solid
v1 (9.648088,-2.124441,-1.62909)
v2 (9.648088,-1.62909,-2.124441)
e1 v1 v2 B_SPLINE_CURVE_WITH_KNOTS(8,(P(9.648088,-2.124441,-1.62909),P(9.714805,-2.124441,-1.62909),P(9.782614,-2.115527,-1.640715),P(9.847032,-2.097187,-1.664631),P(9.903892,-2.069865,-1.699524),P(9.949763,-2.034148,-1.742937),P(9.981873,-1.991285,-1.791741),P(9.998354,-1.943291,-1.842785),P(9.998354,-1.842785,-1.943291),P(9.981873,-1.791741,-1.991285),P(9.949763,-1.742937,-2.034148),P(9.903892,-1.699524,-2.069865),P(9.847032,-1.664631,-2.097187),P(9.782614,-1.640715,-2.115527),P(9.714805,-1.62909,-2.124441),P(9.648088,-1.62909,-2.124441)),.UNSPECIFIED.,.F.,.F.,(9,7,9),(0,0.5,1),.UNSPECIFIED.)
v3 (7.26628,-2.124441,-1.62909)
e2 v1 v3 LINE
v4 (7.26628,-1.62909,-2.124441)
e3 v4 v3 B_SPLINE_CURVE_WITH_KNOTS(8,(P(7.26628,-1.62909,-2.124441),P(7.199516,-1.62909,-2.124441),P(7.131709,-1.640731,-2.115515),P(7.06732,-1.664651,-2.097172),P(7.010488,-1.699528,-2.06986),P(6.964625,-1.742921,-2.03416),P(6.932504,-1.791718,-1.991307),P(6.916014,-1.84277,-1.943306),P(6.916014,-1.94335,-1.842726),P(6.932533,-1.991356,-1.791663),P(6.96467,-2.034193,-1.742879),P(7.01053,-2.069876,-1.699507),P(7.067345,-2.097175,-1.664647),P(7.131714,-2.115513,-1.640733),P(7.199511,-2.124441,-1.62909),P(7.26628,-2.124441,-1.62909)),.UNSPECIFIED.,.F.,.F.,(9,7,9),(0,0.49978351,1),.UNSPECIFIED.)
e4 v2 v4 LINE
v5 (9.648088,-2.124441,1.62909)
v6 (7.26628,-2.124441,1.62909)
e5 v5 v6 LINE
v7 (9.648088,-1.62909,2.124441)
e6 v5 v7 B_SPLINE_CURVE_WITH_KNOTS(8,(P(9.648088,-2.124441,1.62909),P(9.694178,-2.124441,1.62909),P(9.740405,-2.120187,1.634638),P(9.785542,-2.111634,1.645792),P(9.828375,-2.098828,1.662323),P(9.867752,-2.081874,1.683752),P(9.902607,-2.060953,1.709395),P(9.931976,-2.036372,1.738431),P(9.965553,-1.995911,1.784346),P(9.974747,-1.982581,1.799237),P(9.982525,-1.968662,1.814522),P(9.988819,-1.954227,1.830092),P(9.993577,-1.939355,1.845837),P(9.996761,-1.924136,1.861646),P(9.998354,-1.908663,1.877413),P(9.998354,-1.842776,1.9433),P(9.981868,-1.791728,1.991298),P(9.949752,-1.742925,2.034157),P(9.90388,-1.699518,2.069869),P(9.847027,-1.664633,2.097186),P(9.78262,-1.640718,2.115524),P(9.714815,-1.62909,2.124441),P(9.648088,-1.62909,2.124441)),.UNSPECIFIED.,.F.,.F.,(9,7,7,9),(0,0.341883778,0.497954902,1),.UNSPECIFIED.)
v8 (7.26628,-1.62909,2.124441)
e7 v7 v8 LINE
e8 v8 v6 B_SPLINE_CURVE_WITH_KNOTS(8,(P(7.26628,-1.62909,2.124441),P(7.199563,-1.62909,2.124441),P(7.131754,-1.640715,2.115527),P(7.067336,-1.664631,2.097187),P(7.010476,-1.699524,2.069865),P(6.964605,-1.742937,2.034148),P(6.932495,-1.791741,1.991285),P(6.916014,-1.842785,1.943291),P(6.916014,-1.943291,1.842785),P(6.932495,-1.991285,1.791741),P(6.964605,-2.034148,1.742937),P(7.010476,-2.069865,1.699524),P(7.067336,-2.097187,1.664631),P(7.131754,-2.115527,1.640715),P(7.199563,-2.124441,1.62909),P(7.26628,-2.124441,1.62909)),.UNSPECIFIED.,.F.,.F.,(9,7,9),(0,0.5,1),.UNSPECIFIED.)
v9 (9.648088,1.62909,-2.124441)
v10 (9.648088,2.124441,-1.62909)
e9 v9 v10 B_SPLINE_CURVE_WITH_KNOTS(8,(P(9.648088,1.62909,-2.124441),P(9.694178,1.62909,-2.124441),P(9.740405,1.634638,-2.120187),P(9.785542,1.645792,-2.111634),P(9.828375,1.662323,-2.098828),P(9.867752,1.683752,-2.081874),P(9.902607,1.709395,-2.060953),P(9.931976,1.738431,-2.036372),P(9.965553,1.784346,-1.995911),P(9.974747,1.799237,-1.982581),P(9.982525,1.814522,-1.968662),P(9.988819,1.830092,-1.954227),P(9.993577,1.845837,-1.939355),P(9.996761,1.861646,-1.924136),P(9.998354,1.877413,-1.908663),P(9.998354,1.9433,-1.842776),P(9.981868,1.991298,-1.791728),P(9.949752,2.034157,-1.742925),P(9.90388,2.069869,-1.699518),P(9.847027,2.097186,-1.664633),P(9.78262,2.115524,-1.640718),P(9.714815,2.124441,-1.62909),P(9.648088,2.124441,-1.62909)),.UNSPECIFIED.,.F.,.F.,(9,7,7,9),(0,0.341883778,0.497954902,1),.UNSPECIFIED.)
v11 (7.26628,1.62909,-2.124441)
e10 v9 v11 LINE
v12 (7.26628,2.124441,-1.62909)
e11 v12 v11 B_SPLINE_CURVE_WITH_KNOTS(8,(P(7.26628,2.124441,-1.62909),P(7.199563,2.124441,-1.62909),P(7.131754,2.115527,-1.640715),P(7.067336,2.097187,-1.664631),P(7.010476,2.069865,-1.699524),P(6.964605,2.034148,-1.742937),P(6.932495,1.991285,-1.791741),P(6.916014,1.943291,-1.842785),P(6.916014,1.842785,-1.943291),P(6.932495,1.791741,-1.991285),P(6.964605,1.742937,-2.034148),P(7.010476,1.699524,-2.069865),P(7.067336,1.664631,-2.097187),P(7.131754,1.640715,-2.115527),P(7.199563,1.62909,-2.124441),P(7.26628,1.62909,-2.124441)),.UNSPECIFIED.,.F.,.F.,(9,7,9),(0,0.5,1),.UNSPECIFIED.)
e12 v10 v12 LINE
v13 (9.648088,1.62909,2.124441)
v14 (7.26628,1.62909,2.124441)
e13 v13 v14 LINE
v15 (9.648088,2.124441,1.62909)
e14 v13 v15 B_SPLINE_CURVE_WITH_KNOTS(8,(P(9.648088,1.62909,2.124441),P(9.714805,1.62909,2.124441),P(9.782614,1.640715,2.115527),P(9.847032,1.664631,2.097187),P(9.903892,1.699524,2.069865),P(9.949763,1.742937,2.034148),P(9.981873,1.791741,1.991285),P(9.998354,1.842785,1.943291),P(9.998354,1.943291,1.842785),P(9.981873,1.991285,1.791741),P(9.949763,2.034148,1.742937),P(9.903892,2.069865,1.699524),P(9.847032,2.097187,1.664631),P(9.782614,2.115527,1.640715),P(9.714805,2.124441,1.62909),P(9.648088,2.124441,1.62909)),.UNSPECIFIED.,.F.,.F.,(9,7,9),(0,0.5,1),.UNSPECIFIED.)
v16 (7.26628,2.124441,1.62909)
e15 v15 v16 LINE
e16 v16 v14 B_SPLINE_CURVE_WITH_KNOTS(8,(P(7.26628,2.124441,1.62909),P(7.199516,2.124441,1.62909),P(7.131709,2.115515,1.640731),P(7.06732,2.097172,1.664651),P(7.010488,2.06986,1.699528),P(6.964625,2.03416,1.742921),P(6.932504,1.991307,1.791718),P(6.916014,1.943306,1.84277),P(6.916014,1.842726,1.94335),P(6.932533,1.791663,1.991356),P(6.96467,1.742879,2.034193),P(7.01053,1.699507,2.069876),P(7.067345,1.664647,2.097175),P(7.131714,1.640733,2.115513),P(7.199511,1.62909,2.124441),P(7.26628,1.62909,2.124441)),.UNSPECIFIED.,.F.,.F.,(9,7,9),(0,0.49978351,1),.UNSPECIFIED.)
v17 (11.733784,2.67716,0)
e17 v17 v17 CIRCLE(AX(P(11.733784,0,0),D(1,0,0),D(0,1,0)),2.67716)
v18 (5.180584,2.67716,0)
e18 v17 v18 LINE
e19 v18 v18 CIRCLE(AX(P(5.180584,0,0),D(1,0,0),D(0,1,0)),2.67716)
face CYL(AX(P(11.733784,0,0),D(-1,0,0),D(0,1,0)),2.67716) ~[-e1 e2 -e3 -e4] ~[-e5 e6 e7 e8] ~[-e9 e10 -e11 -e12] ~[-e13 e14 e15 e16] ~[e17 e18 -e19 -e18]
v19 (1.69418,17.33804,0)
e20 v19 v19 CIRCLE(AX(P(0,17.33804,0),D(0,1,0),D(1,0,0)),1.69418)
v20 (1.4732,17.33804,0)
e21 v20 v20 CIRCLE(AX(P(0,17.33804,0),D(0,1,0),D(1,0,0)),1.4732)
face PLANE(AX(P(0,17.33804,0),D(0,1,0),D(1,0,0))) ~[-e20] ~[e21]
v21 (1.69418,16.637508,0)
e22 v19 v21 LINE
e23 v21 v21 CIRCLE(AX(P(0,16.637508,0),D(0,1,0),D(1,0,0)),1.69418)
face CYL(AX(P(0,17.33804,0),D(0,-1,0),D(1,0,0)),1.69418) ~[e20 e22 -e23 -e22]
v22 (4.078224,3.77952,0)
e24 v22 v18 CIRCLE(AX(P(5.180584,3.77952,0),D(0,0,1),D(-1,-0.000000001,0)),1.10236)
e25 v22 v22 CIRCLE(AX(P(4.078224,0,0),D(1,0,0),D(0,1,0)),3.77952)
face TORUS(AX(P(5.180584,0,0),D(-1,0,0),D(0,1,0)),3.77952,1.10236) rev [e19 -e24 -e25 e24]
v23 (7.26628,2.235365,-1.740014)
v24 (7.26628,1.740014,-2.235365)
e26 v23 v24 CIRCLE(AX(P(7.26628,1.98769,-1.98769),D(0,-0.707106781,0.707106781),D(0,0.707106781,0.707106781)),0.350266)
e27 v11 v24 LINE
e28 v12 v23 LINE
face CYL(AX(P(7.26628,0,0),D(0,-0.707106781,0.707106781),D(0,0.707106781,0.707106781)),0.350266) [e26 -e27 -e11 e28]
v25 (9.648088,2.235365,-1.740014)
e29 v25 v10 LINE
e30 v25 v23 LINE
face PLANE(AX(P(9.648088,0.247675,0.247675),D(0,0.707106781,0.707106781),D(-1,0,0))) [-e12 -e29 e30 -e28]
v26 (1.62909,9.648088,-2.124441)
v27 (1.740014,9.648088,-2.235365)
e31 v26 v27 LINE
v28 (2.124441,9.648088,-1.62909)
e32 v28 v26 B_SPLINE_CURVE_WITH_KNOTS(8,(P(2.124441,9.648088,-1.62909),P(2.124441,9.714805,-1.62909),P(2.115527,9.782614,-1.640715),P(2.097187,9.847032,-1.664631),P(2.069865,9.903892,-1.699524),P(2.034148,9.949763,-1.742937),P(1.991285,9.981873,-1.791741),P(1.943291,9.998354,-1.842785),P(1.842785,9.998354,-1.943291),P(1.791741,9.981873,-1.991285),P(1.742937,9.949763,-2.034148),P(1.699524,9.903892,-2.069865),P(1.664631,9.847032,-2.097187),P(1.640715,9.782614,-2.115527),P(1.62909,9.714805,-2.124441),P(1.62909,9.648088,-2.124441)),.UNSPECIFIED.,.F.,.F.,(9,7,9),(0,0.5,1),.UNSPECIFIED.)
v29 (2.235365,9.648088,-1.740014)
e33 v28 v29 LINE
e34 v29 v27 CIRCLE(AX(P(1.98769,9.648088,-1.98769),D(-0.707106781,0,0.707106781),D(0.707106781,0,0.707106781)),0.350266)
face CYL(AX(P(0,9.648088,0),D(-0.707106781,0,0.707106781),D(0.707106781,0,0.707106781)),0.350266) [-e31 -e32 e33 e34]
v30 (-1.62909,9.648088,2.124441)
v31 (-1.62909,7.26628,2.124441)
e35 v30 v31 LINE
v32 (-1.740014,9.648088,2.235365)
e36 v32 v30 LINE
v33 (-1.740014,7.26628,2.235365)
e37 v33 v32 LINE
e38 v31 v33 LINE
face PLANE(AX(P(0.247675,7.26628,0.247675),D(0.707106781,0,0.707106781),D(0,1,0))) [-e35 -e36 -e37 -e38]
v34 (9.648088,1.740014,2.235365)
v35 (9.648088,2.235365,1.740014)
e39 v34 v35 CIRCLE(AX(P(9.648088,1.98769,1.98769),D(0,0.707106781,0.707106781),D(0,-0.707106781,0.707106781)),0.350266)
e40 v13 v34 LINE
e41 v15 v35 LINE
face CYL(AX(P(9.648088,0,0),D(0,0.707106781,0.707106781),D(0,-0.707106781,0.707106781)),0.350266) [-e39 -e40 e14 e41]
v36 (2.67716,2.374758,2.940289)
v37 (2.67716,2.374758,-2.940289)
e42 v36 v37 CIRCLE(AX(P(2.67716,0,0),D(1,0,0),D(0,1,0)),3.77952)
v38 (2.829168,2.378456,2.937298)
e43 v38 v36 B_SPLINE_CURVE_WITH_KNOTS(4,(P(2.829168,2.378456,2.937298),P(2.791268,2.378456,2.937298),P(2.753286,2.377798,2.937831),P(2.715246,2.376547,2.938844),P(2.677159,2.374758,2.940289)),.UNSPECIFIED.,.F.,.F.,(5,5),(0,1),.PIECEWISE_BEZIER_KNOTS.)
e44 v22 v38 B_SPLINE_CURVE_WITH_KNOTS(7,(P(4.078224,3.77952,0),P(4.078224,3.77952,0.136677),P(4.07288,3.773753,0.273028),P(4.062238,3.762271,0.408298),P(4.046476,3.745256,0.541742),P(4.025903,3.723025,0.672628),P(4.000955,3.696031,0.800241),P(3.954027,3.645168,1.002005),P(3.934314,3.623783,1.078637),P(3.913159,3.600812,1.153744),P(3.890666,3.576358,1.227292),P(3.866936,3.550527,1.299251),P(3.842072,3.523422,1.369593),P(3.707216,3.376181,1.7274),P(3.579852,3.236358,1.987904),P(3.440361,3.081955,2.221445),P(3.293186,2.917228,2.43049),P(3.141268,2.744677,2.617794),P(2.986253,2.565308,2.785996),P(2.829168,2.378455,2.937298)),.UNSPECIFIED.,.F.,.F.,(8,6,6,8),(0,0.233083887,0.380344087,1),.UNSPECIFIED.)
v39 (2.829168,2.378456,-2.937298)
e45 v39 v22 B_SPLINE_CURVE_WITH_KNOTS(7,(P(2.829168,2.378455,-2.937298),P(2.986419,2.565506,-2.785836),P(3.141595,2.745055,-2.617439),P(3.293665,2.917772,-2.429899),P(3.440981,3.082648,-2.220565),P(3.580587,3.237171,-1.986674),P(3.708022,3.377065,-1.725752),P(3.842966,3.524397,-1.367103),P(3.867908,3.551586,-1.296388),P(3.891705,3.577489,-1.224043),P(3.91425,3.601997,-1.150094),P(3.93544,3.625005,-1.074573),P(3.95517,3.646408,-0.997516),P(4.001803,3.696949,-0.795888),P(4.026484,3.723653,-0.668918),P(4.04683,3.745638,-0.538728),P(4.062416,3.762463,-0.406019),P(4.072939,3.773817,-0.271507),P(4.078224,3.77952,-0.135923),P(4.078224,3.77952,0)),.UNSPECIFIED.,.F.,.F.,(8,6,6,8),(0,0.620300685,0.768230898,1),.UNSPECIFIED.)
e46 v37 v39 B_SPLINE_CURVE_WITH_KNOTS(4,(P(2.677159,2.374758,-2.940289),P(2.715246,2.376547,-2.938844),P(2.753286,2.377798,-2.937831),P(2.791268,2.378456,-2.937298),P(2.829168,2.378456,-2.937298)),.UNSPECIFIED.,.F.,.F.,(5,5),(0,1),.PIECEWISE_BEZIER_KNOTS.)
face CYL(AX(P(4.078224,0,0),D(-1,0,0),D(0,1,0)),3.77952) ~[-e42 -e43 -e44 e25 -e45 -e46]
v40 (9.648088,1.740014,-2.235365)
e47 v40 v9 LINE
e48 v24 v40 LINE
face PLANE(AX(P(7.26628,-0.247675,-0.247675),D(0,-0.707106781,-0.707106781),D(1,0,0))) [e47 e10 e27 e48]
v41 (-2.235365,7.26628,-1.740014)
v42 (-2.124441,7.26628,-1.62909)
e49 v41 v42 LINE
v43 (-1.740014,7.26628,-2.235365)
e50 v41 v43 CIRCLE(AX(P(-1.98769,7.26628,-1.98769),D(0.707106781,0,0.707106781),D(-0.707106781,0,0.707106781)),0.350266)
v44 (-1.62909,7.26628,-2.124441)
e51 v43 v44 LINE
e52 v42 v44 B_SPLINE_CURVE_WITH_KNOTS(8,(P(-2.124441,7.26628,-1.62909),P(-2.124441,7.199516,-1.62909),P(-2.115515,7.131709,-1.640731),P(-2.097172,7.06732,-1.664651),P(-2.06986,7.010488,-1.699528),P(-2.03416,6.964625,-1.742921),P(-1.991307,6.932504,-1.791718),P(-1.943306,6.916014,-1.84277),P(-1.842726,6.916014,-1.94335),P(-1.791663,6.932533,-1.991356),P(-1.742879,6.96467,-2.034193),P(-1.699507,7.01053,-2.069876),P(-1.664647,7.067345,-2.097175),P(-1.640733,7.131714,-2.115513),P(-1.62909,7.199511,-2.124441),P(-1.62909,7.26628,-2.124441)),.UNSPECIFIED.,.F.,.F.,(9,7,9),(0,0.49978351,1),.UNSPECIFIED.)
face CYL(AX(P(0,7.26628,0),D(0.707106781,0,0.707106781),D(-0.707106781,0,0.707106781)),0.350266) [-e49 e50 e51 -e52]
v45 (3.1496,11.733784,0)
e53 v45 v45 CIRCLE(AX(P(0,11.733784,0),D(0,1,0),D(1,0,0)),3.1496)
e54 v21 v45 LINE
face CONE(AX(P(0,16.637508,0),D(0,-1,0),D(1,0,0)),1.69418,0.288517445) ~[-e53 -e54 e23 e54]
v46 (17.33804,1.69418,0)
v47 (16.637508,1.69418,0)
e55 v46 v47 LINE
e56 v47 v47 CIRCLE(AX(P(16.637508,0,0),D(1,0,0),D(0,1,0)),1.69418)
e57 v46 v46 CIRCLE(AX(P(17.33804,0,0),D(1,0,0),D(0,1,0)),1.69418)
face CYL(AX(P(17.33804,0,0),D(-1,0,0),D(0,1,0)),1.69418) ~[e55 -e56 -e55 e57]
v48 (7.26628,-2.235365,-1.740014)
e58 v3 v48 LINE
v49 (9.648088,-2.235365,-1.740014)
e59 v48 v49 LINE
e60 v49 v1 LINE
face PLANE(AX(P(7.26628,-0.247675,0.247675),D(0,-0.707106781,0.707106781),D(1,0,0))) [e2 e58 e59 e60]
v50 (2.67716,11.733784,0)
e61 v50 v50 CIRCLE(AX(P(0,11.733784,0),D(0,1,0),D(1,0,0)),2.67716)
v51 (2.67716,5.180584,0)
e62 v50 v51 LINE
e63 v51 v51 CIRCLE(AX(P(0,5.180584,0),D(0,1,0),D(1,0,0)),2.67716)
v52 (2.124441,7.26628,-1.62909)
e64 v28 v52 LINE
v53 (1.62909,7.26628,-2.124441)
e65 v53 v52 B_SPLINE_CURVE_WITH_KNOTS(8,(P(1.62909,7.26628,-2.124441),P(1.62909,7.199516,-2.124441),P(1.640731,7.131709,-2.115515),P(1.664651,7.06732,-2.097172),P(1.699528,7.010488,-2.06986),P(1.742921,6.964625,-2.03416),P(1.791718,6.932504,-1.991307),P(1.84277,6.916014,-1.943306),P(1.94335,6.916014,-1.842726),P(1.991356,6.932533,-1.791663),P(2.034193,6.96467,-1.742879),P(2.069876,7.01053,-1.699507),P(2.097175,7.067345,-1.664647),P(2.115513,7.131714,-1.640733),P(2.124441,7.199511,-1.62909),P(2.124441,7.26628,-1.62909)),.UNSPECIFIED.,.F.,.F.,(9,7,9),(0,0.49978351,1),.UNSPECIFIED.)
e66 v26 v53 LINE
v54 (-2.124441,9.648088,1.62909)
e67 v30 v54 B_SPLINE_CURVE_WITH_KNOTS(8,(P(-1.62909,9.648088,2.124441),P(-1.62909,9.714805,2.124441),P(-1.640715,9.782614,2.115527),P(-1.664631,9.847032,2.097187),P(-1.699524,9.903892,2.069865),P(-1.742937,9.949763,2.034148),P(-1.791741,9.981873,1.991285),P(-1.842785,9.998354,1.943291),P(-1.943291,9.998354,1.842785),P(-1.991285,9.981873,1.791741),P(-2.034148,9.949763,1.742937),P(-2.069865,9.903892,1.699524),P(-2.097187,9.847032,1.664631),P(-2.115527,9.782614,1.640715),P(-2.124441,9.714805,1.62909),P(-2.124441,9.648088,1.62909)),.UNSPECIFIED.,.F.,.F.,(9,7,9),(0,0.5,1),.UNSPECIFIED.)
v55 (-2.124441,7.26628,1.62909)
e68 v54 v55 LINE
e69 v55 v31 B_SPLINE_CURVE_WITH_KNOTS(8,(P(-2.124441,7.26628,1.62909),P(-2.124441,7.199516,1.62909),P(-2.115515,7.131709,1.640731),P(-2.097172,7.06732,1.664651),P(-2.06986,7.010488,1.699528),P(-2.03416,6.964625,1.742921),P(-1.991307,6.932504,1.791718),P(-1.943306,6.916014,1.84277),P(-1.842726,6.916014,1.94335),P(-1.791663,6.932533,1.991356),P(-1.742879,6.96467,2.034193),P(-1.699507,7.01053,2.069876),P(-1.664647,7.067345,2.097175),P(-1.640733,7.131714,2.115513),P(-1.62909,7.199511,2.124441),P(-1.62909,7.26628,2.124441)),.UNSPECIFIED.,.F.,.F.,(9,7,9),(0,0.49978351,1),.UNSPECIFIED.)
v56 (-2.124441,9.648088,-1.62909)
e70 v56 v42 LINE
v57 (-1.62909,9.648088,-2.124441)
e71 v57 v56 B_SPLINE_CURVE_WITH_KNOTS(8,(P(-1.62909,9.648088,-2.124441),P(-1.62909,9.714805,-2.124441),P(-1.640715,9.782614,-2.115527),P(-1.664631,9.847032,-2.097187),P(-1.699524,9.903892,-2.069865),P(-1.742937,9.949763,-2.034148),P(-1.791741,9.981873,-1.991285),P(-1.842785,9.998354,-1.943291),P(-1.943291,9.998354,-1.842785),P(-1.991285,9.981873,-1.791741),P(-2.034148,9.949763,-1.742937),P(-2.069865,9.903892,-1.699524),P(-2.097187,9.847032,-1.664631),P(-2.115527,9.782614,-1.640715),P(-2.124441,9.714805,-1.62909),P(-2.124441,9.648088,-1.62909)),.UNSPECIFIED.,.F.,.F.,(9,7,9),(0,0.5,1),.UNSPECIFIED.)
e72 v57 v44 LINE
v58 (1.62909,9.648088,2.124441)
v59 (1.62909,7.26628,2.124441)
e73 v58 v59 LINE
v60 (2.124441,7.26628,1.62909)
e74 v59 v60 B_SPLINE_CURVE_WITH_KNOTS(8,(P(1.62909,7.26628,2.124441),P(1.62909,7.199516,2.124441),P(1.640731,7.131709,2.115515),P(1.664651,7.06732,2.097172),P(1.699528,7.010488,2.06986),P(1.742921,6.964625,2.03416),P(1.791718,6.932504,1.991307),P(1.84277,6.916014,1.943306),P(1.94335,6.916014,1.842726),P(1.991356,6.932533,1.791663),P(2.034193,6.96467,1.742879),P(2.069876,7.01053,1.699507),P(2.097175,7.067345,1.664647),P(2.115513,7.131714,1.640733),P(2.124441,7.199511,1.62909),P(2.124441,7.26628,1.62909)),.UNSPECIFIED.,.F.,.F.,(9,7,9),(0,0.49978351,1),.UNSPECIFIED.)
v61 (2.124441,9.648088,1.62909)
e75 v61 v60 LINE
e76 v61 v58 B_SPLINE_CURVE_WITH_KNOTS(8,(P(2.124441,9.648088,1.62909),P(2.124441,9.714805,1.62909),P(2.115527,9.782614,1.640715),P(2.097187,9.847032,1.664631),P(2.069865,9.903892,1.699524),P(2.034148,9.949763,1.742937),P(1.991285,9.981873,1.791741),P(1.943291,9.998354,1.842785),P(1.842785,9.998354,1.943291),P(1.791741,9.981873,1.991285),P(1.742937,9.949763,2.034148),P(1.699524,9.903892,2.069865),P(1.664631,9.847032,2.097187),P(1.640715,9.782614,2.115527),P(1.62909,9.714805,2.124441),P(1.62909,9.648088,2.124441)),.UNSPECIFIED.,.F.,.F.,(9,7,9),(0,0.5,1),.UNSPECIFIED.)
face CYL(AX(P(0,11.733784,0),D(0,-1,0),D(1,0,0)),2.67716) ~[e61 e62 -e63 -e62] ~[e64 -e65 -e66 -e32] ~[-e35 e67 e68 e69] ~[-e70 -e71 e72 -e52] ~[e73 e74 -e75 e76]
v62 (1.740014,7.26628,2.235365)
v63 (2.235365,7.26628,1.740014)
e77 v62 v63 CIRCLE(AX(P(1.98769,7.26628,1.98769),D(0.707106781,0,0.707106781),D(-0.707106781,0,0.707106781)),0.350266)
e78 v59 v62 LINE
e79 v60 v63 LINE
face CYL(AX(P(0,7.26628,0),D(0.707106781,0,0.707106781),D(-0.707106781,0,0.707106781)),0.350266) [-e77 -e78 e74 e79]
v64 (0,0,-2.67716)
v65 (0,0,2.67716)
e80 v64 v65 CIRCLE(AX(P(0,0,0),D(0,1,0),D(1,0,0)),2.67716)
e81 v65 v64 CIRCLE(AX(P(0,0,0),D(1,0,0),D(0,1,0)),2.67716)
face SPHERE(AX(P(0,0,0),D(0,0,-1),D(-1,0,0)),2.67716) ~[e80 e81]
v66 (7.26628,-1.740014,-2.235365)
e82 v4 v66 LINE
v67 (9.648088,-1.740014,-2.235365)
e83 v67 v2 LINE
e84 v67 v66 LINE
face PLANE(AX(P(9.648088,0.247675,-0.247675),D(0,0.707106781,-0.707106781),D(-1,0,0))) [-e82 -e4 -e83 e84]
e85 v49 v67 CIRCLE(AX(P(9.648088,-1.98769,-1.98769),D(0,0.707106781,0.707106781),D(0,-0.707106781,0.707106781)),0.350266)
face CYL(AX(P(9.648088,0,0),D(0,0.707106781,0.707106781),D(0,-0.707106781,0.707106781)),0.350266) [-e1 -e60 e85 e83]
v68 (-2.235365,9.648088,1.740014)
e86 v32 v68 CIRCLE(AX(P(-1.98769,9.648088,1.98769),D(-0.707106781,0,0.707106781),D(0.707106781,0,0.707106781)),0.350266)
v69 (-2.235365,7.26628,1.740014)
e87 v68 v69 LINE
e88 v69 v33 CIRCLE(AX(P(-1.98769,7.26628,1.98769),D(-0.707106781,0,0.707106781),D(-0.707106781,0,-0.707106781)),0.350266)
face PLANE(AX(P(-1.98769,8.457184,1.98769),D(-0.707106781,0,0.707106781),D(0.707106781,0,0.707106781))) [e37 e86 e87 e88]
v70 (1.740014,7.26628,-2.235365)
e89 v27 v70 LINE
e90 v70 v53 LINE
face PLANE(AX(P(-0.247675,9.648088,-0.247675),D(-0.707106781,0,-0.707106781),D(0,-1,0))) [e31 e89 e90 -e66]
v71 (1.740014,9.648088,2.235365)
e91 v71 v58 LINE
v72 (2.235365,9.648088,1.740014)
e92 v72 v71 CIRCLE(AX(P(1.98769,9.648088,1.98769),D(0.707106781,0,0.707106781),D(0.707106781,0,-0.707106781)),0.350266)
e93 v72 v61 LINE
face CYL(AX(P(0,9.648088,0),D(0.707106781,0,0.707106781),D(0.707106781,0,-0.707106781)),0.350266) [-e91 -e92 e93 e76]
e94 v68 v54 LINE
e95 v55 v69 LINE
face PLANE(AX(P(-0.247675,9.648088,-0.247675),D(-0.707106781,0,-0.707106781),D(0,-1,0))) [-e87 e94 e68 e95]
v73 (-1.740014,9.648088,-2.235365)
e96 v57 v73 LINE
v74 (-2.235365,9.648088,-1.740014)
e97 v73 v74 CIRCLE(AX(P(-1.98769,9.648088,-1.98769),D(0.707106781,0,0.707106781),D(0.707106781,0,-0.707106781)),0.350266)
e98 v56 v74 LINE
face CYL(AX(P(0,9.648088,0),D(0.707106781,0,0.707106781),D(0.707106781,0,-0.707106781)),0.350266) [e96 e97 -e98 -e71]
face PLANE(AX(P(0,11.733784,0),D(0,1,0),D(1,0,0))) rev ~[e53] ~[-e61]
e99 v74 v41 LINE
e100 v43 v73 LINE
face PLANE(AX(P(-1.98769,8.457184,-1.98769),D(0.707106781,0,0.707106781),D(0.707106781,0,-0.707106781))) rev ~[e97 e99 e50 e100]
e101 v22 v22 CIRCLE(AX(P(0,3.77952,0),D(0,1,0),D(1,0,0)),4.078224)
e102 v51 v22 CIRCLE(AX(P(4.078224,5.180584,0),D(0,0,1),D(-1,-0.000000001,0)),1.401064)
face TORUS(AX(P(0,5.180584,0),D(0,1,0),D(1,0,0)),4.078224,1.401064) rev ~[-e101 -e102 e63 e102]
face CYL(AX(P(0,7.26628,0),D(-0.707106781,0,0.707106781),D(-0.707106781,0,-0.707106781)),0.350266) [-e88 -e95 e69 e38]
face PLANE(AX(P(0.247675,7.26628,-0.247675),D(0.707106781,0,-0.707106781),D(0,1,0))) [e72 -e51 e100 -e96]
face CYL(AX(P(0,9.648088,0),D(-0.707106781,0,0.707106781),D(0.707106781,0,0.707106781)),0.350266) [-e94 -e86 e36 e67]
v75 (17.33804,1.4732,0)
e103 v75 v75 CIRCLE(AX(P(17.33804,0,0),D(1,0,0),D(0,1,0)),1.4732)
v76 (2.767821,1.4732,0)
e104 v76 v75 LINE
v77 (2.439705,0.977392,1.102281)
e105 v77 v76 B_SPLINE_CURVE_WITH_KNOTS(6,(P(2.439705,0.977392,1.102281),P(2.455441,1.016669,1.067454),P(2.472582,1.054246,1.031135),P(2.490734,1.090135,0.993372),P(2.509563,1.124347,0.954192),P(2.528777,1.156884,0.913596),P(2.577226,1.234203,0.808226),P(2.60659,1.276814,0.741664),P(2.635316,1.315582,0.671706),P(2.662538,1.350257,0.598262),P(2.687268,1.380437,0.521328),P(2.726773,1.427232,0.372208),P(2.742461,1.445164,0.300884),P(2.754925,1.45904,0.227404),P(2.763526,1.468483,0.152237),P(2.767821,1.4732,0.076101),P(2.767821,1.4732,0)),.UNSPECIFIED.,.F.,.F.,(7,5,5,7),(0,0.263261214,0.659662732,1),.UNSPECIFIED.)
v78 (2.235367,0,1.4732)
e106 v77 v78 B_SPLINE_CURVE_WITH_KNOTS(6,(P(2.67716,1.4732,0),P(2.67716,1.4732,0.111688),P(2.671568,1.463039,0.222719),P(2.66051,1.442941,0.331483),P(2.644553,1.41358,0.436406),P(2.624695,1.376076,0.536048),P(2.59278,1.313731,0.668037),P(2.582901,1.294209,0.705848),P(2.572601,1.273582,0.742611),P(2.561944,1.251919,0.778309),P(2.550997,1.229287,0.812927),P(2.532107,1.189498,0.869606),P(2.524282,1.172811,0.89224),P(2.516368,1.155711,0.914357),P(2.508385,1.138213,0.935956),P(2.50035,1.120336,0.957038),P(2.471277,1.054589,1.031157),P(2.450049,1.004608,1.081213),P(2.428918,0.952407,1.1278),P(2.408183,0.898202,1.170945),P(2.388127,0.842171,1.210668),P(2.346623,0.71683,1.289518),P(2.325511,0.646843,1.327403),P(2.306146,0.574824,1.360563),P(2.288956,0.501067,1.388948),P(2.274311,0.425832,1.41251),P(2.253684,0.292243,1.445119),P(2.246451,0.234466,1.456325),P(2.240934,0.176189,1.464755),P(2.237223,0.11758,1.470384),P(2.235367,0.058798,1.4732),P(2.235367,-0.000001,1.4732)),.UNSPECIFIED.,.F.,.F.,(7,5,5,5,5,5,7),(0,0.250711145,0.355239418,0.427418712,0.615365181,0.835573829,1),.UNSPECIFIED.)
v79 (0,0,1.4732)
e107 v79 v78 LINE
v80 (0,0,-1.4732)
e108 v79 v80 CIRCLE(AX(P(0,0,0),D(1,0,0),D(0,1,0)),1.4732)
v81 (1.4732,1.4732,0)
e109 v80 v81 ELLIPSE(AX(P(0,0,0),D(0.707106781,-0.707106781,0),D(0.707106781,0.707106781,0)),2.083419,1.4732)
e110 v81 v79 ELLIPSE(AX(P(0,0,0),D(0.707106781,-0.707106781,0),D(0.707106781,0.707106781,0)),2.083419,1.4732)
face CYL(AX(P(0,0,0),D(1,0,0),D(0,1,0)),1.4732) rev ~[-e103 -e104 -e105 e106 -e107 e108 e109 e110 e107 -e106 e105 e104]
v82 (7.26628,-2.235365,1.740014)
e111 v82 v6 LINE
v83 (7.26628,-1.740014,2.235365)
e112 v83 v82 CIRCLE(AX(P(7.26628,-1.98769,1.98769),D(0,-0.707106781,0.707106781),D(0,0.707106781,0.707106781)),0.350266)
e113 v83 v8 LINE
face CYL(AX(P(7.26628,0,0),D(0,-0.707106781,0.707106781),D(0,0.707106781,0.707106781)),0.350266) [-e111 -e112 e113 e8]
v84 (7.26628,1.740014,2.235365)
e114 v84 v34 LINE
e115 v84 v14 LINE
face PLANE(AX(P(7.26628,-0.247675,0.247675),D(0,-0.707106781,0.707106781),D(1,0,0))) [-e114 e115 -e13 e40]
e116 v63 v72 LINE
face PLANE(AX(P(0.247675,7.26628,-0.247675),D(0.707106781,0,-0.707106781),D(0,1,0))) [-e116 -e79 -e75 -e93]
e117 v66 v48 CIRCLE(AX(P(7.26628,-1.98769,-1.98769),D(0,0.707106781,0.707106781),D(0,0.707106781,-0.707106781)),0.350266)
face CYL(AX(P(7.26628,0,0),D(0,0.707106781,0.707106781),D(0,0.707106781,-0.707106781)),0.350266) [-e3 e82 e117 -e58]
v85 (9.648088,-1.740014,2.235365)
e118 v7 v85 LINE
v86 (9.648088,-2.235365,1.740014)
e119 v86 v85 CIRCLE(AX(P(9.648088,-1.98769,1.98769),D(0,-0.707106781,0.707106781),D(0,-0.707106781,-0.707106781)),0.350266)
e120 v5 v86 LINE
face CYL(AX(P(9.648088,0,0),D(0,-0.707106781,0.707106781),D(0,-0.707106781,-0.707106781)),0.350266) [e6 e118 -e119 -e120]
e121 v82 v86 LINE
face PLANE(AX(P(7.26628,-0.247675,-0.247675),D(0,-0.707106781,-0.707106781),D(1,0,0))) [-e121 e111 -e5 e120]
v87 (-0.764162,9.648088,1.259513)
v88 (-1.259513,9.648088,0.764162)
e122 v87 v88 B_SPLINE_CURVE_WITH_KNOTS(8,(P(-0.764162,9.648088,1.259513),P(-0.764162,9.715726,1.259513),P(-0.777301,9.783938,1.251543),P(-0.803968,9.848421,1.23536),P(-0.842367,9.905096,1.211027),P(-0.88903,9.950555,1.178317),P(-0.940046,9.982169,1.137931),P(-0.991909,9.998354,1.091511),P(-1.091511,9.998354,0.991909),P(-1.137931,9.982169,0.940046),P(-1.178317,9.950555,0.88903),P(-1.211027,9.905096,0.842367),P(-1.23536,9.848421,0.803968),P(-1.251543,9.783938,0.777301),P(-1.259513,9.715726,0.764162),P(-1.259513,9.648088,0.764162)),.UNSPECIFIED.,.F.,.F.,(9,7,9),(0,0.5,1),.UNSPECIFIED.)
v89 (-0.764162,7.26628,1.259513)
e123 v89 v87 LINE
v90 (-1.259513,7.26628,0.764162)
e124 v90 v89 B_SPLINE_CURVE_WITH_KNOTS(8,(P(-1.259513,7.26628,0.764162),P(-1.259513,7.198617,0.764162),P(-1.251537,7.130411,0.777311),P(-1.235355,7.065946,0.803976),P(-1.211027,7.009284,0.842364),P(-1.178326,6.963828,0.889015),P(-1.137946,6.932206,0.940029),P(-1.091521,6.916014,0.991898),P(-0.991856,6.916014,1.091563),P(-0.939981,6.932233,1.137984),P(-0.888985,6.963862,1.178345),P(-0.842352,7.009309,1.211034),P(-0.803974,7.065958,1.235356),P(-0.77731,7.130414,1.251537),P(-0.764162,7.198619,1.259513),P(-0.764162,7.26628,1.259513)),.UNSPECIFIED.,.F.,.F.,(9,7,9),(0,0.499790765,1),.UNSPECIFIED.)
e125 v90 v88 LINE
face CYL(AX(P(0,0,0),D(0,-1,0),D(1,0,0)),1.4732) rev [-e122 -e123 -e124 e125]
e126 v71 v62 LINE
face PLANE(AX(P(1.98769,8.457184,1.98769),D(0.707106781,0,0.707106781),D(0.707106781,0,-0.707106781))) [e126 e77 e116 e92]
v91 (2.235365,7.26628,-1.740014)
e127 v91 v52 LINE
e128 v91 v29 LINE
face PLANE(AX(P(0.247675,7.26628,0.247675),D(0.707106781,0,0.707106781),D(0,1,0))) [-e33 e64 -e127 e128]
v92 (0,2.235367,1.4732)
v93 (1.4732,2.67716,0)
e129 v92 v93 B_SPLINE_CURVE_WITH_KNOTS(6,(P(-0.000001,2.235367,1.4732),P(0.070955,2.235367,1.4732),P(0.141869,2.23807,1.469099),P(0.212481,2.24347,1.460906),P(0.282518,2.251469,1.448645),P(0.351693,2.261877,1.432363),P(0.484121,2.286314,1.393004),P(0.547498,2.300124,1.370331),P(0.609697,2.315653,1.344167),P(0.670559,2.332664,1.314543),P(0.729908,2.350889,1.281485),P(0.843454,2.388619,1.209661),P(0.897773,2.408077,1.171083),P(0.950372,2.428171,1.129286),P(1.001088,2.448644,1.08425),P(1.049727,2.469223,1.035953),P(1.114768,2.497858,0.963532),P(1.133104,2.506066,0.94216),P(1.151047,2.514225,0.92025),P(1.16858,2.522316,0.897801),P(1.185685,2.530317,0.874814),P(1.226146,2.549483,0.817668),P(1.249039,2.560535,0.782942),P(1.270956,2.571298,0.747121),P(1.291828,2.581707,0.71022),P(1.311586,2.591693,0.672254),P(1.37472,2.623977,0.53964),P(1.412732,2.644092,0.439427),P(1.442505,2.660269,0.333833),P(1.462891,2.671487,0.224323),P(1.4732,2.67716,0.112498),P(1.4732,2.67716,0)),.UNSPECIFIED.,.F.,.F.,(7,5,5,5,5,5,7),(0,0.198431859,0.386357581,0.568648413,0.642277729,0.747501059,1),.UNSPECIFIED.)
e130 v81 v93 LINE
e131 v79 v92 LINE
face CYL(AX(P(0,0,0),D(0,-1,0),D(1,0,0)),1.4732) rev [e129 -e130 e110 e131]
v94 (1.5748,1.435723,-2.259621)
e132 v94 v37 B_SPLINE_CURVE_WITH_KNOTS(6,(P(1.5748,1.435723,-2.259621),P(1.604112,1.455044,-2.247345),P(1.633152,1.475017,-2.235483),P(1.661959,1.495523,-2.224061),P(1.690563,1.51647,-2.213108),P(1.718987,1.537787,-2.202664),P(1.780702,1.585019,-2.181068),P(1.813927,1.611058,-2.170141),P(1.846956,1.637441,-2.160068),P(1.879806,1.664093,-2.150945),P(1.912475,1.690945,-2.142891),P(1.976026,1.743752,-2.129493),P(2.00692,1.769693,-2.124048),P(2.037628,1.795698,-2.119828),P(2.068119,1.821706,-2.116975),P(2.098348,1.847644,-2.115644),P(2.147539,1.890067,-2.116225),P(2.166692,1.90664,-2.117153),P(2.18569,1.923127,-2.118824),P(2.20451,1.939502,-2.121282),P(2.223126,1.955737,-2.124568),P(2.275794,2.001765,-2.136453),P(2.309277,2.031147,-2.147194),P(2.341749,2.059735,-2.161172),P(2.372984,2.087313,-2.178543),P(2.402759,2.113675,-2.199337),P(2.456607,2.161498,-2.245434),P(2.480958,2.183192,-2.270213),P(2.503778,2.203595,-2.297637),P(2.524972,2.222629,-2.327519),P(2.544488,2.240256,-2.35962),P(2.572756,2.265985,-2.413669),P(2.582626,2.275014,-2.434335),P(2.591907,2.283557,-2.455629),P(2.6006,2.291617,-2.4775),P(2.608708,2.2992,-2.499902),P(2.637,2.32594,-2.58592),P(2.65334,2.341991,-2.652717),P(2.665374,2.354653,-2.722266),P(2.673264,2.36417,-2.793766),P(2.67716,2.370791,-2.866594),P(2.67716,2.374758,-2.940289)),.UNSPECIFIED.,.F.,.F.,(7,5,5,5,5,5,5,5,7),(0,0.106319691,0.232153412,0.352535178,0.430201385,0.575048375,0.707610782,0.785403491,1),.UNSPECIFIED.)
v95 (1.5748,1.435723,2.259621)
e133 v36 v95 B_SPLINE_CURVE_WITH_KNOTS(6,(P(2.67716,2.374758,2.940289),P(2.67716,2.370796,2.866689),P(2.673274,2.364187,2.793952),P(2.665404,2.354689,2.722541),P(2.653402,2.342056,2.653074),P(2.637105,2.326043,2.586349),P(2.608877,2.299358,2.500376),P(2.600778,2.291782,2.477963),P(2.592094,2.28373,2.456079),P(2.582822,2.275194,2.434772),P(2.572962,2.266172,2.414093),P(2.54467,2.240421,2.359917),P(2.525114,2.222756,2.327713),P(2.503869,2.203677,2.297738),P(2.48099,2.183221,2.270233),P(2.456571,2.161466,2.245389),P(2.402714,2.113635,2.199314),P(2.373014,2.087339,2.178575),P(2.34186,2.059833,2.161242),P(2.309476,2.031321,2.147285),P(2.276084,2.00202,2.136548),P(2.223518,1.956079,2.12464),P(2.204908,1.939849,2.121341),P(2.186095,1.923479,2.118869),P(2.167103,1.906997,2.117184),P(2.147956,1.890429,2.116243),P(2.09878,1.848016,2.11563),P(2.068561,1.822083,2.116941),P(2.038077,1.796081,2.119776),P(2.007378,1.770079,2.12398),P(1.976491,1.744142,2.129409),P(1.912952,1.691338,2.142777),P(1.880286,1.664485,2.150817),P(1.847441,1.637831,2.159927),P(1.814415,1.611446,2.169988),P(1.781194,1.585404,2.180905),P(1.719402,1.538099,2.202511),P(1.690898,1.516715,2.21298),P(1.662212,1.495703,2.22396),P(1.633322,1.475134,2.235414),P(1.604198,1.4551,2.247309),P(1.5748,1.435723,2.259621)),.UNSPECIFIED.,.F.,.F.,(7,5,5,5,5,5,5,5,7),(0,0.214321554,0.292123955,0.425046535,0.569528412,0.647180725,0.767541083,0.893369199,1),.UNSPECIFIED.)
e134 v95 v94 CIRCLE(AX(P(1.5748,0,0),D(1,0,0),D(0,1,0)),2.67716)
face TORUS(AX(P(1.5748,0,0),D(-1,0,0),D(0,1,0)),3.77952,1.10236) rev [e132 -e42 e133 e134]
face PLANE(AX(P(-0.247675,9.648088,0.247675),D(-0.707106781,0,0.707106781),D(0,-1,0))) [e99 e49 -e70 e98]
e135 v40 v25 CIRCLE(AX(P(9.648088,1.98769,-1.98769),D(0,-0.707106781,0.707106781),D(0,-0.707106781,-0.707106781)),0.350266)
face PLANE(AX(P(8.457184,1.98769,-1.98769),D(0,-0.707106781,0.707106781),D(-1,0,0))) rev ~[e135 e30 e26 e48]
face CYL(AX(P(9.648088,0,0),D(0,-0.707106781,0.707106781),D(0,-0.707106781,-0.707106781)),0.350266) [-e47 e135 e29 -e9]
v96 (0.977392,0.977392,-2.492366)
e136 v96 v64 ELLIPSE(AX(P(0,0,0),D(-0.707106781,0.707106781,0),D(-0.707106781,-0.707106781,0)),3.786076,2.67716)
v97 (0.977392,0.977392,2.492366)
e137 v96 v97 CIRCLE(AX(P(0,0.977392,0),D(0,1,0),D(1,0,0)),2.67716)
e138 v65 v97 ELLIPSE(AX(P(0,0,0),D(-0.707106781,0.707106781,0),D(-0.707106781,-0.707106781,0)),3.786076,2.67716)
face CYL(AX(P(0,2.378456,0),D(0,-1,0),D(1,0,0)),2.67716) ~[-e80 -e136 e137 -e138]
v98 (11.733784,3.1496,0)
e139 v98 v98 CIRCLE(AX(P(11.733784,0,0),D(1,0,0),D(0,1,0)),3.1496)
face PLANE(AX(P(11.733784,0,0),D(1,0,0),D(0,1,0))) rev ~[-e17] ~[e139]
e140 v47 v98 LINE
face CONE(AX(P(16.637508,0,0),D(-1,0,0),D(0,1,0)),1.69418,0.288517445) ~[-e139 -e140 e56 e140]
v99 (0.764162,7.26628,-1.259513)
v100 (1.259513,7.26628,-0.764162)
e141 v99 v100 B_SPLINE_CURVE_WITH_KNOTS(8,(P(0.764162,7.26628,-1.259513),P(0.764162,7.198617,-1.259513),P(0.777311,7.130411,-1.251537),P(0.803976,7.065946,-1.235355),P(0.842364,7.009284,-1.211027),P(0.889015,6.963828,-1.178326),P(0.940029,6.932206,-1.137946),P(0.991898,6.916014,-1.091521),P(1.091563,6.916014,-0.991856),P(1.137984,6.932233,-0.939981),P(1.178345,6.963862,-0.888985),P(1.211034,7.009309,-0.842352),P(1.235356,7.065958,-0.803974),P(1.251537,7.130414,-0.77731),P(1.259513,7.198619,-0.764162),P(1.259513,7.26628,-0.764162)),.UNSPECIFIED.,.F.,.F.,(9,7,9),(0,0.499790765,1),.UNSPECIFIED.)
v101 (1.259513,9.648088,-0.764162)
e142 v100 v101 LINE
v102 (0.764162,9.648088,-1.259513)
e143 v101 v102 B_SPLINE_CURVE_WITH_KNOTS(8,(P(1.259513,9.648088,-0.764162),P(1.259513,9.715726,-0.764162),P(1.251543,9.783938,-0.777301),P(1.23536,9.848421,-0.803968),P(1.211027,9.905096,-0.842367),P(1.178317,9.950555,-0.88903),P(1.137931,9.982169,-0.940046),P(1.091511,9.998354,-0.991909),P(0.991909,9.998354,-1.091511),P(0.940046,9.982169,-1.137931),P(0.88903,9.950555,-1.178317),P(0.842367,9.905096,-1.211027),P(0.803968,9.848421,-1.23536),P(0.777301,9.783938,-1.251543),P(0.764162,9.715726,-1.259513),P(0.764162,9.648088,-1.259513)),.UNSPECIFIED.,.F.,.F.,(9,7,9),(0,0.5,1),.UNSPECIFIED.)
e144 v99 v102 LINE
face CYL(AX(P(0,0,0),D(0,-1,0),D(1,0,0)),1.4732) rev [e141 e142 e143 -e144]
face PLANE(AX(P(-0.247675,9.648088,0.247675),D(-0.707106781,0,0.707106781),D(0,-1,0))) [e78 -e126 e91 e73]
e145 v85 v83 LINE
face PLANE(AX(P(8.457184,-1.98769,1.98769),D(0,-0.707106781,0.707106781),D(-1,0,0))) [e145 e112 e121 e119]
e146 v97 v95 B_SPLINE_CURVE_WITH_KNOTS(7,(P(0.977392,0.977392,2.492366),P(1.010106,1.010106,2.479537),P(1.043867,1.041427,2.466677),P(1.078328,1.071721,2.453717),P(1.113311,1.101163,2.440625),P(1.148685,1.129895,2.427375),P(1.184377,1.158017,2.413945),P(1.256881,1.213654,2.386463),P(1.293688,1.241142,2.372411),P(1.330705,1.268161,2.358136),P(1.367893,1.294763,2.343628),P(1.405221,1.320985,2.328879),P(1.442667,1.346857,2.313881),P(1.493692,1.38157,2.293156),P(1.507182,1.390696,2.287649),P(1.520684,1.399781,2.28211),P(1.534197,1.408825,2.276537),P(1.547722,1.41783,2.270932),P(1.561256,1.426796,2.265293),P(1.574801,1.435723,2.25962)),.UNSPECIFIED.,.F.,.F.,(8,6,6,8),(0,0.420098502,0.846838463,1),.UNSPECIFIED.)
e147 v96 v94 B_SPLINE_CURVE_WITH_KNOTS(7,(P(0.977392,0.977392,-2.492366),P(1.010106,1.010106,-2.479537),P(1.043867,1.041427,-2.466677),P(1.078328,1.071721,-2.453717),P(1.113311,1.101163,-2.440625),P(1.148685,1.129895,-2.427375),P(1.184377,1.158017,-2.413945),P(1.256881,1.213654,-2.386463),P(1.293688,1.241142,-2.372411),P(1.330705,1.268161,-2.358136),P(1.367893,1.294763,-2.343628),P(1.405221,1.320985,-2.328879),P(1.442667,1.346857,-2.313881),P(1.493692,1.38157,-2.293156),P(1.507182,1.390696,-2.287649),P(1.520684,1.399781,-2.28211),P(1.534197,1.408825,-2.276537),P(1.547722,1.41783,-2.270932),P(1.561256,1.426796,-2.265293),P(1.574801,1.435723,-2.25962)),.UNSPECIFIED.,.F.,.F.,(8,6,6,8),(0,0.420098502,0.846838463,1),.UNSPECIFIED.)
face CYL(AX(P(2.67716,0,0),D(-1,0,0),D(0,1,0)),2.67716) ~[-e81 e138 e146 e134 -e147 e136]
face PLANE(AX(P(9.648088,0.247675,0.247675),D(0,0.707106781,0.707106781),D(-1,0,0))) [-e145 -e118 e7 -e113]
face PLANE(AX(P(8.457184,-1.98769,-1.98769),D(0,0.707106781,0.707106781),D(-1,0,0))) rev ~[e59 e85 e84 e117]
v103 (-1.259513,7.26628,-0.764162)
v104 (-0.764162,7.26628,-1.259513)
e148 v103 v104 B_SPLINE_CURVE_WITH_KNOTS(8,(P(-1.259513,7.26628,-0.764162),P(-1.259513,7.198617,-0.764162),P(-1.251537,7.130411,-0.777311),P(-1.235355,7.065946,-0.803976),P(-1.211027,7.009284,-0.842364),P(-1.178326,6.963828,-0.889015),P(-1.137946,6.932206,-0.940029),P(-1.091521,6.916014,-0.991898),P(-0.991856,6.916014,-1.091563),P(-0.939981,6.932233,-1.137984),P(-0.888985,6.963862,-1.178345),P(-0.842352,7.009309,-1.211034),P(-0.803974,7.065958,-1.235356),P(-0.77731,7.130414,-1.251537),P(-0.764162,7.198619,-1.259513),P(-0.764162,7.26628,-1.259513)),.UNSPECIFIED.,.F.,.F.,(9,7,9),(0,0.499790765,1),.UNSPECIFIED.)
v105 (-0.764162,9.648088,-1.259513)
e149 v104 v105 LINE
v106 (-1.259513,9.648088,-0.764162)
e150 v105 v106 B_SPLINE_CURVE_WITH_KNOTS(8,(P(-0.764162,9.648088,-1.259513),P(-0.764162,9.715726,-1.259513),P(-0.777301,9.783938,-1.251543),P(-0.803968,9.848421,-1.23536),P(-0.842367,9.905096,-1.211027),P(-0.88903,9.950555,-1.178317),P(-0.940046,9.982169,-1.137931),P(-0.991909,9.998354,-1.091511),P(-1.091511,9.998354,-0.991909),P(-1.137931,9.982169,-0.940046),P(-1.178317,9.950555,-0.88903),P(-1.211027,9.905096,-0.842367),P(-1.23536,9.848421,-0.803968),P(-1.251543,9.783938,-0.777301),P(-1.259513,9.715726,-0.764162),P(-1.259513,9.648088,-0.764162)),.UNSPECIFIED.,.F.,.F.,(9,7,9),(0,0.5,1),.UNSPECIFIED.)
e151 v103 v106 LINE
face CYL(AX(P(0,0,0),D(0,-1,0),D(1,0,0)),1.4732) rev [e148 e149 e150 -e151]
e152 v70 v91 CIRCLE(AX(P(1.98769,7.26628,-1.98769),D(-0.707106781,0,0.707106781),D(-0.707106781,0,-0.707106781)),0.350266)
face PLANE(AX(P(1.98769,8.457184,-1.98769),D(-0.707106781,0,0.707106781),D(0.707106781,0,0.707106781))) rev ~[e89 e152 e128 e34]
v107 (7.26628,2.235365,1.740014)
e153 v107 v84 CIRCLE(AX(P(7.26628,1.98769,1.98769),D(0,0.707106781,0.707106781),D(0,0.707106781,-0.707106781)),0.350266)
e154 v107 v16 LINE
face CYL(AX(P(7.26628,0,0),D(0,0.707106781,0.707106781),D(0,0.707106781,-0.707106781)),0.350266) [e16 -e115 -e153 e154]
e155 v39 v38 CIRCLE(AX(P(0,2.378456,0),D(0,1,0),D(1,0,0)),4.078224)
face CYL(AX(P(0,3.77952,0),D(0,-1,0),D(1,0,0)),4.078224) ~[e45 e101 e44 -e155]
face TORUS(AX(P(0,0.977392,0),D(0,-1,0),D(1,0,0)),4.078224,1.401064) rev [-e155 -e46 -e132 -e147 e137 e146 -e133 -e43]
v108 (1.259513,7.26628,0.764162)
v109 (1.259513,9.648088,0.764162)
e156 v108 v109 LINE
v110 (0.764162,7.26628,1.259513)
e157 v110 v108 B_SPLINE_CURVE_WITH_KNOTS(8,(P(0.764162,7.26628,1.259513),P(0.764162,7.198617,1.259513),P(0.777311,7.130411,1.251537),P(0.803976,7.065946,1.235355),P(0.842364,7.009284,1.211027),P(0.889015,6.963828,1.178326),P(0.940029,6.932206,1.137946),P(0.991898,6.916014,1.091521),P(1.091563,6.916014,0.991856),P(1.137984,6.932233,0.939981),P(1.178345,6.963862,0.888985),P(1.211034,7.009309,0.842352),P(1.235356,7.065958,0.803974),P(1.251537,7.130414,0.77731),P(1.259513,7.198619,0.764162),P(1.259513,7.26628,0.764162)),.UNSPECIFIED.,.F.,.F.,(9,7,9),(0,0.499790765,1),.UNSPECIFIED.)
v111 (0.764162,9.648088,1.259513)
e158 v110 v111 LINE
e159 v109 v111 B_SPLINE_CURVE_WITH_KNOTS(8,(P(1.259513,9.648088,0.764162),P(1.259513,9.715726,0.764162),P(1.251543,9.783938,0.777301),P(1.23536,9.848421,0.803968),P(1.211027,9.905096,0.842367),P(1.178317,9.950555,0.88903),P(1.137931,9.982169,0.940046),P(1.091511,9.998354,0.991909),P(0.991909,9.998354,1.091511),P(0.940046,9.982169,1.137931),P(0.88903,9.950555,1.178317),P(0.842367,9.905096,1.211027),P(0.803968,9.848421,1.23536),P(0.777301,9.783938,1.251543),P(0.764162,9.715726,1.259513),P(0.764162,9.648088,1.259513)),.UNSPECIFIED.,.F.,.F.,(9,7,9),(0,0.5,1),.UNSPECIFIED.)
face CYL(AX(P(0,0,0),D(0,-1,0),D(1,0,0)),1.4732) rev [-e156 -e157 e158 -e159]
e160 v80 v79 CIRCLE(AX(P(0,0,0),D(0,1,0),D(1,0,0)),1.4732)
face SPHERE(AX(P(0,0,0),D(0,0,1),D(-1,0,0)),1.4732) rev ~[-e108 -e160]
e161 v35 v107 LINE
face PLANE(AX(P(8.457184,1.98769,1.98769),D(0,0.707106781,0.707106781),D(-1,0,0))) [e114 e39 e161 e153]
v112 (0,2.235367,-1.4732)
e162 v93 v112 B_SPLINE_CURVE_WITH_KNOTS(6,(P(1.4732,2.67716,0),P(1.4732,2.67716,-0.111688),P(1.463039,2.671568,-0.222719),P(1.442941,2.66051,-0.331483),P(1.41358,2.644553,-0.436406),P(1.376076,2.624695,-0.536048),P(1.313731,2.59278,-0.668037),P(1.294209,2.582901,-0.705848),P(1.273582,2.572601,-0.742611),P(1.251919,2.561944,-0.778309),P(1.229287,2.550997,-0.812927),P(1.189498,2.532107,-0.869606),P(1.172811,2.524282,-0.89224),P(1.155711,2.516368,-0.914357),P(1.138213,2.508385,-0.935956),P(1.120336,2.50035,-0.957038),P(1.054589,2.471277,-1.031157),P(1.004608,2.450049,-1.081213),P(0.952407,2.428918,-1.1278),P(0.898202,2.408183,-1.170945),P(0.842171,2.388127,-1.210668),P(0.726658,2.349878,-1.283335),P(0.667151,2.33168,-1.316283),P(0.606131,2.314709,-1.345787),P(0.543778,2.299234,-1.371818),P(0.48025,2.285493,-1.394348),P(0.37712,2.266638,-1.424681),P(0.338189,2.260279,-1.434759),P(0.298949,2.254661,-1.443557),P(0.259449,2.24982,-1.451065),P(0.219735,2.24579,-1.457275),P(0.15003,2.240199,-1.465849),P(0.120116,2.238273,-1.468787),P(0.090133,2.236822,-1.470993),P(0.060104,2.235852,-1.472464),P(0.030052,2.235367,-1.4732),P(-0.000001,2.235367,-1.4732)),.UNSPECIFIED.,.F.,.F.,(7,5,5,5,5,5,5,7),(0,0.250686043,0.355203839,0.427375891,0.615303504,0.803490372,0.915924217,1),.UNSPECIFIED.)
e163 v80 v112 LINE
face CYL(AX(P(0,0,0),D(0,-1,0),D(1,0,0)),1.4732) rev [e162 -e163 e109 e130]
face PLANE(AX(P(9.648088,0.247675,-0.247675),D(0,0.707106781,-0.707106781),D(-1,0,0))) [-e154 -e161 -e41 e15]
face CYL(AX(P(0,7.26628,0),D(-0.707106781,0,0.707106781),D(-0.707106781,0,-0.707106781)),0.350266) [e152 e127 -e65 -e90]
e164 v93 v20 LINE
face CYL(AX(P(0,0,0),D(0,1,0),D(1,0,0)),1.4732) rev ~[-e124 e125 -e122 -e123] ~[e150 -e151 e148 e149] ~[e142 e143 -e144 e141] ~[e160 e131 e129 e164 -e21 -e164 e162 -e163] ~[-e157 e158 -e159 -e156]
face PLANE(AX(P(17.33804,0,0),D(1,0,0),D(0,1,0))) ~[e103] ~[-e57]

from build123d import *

# Parameters (mm, degrees)
EXTRUDE1_DEPTH     = 2.811018
CIRPATTERN1_COUNT  = 2
CIRPATTERN1_ANGLE  = 90
SKETCH4_R          = 1.4732
CUT_EXTRUDE1_DEPTH = 19.143240542
SKETCH11_R         = 1.4732
CUT_EXTRUDE2_DEPTH = 25.856531955
REVOLVE5_ANGLE     = 90
EXTRUDE2_DEPTH     = 2.811018
CIRPATTERN2_COUNT  = 2
CIRPATTERN2_ANGLE  = 90
SKETCH7_R          = 1.4732
CUT_EXTRUDE4_DEPTH = 25.856531955


with BuildPart() as part:
    # Sketch01 → Revolve1 (revolve)
    with BuildSketch(Plane.XY):
        Polygon((17.33804, 1.4732), (17.33804, 1.69418), (16.637508, 1.69418), (11.733784, 3.1496), (11.733784, 2.67716), (4.078224, 2.67716), (4.078224, 3.77952), (2.67716, 3.77952), (2.67716, 2.67716), (0, 2.67716), (0, 1.4732), align=None)
    revolve(axis=Axis((0, 0, 0), (1, 0, 0)))

    # Sketch2 → Revolve2 (revolve)
    with BuildSketch(Plane.XY):
        with BuildLine():
            Line((5.180584, 2.67716), (4.078224, 2.67716))
            Line((4.078224, 2.67716), (4.078224, 3.77952))
            ThreePointArc((4.078224, 3.77952), (4.401097769, 3.000033769), (5.180584, 2.67716))
        make_face()
        with BuildLine():
            Line((2.67716, 3.77952), (2.67716, 2.67716))
            Line((2.67716, 2.67716), (1.5748, 2.67716))
            ThreePointArc((1.5748, 2.67716), (2.354286231, 3.000033769), (2.67716, 3.77952))
        make_face()
    revolve(axis=Axis((0, 0, 0), (1, 0, 0)))

    # Sketch3 → Extrude1 (add, symmetric)
    with BuildSketch(Plane(origin=(0, 0, 0), x_dir=(-1, 0, 0), z_dir=(0, 0.7071067811865488, 0.7071067811865462))):
        with BuildLine():
            Line((-7.2662796, 0.350266), (-9.6480884, 0.350266))
            ThreePointArc((-9.6480884, 0.350266), (-9.9983544, 0), (-9.6480884, -0.350266))
            Line((-9.6480884, -0.350266), (-7.2662796, -0.350266))
            ThreePointArc((-7.2662796, -0.350266), (-6.9160136, 0), (-7.2662796, 0.350266))
        make_face()
    extrude1 = extrude(amount=EXTRUDE1_DEPTH, both=True)

    # CirPattern1: Extrude1 ×2 about axis
    cirpattern1_axis = Axis((0, 0, 0), (1, 0, 0))
    for i in range(1, CIRPATTERN1_COUNT):
        add(extrude1.rotate(cirpattern1_axis, i * CIRPATTERN1_ANGLE / (CIRPATTERN1_COUNT - 1)))

    # Sketch4 → Cut-Extrude1 (cut, through all)
    with BuildSketch(Plane(origin=(17.33804, 0, 0), x_dir=(0, 0, -1), z_dir=(1, 0, 0))):
        Circle(SKETCH4_R)
    extrude(amount=-CUT_EXTRUDE1_DEPTH, mode=Mode.SUBTRACT)

    # Sketch5 → Revolve3 (revolve)
    with BuildSketch(Plane.XY):
        Polygon((1.4732, 17.33804), (1.69418, 17.33804), (1.69418, 16.637508), (3.1496, 11.733784), (2.67716, 11.733784), (2.67716, 3.77952), (4.078224, 3.77952), (4.078224, 2.378456), (2.67716, 2.378456), (2.67716, 0), (1.4732, 0), align=None)
    revolve(axis=Axis((0, 0, 0), (0, 1, 0)))

    # Sketch10 → Revolve4 (revolve)
    with BuildSketch(Plane.XY):
        with BuildLine():
            Line((4.078224, 3.77952), (2.67716, 3.77952))
            Line((2.67716, 3.77952), (2.67716, 5.180584))
            ThreePointArc((2.67716, 5.180584), (3.087522145, 4.189882145), (4.078224, 3.77952))
        make_face()
        with BuildLine():
            Line((2.67716, 2.378456), (2.67716, 0.977392))
            ThreePointArc((2.67716, 0.977392), (3.087522145, 1.968093855), (4.078224, 2.378456))
            Line((4.078224, 2.378456), (2.67716, 2.378456))
        make_face()
    revolve(axis=Axis((0, 0, 0), (0, 1, 0)))

    # Sketch11 → Cut-Extrude2 (cut, through all)
    with BuildSketch(Plane.ZY):
        Circle(SKETCH11_R)
    extrude(amount=-CUT_EXTRUDE2_DEPTH, mode=Mode.SUBTRACT)

    # Sketch13 → Revolve5 (revolve)
    with BuildSketch(Plane.XZ):
        with BuildLine():
            Line((0, 1.4732), (0, 2.67716))
            ThreePointArc((0, 2.67716), (-2.67716, 0), (0, -2.67716))
            Line((0, -2.67716), (0, -1.4732))
            ThreePointArc((0, -1.4732), (-1.4732, 0), (0, 1.4732))
        make_face()
    revolve(axis=Axis((0, 0, 0), (0, 0, 1)), revolution_arc=REVOLVE5_ANGLE)

    # Sketch9 → Extrude2 (add, symmetric)
    with BuildSketch(Plane(origin=(0, 0, 0), x_dir=(0.7071067811865462, 0, 0.7071067811865488), z_dir=(-0.7071067811865488, 0, 0.7071067811865462))):
        with BuildLine():
            Line((-0.350266, 9.6480884), (-0.350266, 7.2662796))
            ThreePointArc((-0.350266, 7.2662796), (0, 6.9160136), (0.350266, 7.2662796))
            Line((0.350266, 7.2662796), (0.350266, 9.6480884))
            ThreePointArc((0.350266, 9.6480884), (0, 9.9983544), (-0.350266, 9.6480884))
        make_face()
    extrude2 = extrude(amount=EXTRUDE2_DEPTH, both=True)

    # CirPattern2: Extrude2 ×2 about axis
    cirpattern2_axis = Axis((0, 0, 0), (0, 1, 0))
    for i in range(1, CIRPATTERN2_COUNT):
        add(extrude2.rotate(cirpattern2_axis, i * CIRPATTERN2_ANGLE / (CIRPATTERN2_COUNT - 1)))

    # Sketch7 → Cut-Extrude4 (cut, through all)
    with BuildSketch(Plane(origin=(0, 0, 0), x_dir=(1, 0, 0), z_dir=(0, 1, 0))):
        Circle(SKETCH7_R)
    extrude(amount=CUT_EXTRUDE4_DEPTH, mode=Mode.SUBTRACT)


solid = part.part
